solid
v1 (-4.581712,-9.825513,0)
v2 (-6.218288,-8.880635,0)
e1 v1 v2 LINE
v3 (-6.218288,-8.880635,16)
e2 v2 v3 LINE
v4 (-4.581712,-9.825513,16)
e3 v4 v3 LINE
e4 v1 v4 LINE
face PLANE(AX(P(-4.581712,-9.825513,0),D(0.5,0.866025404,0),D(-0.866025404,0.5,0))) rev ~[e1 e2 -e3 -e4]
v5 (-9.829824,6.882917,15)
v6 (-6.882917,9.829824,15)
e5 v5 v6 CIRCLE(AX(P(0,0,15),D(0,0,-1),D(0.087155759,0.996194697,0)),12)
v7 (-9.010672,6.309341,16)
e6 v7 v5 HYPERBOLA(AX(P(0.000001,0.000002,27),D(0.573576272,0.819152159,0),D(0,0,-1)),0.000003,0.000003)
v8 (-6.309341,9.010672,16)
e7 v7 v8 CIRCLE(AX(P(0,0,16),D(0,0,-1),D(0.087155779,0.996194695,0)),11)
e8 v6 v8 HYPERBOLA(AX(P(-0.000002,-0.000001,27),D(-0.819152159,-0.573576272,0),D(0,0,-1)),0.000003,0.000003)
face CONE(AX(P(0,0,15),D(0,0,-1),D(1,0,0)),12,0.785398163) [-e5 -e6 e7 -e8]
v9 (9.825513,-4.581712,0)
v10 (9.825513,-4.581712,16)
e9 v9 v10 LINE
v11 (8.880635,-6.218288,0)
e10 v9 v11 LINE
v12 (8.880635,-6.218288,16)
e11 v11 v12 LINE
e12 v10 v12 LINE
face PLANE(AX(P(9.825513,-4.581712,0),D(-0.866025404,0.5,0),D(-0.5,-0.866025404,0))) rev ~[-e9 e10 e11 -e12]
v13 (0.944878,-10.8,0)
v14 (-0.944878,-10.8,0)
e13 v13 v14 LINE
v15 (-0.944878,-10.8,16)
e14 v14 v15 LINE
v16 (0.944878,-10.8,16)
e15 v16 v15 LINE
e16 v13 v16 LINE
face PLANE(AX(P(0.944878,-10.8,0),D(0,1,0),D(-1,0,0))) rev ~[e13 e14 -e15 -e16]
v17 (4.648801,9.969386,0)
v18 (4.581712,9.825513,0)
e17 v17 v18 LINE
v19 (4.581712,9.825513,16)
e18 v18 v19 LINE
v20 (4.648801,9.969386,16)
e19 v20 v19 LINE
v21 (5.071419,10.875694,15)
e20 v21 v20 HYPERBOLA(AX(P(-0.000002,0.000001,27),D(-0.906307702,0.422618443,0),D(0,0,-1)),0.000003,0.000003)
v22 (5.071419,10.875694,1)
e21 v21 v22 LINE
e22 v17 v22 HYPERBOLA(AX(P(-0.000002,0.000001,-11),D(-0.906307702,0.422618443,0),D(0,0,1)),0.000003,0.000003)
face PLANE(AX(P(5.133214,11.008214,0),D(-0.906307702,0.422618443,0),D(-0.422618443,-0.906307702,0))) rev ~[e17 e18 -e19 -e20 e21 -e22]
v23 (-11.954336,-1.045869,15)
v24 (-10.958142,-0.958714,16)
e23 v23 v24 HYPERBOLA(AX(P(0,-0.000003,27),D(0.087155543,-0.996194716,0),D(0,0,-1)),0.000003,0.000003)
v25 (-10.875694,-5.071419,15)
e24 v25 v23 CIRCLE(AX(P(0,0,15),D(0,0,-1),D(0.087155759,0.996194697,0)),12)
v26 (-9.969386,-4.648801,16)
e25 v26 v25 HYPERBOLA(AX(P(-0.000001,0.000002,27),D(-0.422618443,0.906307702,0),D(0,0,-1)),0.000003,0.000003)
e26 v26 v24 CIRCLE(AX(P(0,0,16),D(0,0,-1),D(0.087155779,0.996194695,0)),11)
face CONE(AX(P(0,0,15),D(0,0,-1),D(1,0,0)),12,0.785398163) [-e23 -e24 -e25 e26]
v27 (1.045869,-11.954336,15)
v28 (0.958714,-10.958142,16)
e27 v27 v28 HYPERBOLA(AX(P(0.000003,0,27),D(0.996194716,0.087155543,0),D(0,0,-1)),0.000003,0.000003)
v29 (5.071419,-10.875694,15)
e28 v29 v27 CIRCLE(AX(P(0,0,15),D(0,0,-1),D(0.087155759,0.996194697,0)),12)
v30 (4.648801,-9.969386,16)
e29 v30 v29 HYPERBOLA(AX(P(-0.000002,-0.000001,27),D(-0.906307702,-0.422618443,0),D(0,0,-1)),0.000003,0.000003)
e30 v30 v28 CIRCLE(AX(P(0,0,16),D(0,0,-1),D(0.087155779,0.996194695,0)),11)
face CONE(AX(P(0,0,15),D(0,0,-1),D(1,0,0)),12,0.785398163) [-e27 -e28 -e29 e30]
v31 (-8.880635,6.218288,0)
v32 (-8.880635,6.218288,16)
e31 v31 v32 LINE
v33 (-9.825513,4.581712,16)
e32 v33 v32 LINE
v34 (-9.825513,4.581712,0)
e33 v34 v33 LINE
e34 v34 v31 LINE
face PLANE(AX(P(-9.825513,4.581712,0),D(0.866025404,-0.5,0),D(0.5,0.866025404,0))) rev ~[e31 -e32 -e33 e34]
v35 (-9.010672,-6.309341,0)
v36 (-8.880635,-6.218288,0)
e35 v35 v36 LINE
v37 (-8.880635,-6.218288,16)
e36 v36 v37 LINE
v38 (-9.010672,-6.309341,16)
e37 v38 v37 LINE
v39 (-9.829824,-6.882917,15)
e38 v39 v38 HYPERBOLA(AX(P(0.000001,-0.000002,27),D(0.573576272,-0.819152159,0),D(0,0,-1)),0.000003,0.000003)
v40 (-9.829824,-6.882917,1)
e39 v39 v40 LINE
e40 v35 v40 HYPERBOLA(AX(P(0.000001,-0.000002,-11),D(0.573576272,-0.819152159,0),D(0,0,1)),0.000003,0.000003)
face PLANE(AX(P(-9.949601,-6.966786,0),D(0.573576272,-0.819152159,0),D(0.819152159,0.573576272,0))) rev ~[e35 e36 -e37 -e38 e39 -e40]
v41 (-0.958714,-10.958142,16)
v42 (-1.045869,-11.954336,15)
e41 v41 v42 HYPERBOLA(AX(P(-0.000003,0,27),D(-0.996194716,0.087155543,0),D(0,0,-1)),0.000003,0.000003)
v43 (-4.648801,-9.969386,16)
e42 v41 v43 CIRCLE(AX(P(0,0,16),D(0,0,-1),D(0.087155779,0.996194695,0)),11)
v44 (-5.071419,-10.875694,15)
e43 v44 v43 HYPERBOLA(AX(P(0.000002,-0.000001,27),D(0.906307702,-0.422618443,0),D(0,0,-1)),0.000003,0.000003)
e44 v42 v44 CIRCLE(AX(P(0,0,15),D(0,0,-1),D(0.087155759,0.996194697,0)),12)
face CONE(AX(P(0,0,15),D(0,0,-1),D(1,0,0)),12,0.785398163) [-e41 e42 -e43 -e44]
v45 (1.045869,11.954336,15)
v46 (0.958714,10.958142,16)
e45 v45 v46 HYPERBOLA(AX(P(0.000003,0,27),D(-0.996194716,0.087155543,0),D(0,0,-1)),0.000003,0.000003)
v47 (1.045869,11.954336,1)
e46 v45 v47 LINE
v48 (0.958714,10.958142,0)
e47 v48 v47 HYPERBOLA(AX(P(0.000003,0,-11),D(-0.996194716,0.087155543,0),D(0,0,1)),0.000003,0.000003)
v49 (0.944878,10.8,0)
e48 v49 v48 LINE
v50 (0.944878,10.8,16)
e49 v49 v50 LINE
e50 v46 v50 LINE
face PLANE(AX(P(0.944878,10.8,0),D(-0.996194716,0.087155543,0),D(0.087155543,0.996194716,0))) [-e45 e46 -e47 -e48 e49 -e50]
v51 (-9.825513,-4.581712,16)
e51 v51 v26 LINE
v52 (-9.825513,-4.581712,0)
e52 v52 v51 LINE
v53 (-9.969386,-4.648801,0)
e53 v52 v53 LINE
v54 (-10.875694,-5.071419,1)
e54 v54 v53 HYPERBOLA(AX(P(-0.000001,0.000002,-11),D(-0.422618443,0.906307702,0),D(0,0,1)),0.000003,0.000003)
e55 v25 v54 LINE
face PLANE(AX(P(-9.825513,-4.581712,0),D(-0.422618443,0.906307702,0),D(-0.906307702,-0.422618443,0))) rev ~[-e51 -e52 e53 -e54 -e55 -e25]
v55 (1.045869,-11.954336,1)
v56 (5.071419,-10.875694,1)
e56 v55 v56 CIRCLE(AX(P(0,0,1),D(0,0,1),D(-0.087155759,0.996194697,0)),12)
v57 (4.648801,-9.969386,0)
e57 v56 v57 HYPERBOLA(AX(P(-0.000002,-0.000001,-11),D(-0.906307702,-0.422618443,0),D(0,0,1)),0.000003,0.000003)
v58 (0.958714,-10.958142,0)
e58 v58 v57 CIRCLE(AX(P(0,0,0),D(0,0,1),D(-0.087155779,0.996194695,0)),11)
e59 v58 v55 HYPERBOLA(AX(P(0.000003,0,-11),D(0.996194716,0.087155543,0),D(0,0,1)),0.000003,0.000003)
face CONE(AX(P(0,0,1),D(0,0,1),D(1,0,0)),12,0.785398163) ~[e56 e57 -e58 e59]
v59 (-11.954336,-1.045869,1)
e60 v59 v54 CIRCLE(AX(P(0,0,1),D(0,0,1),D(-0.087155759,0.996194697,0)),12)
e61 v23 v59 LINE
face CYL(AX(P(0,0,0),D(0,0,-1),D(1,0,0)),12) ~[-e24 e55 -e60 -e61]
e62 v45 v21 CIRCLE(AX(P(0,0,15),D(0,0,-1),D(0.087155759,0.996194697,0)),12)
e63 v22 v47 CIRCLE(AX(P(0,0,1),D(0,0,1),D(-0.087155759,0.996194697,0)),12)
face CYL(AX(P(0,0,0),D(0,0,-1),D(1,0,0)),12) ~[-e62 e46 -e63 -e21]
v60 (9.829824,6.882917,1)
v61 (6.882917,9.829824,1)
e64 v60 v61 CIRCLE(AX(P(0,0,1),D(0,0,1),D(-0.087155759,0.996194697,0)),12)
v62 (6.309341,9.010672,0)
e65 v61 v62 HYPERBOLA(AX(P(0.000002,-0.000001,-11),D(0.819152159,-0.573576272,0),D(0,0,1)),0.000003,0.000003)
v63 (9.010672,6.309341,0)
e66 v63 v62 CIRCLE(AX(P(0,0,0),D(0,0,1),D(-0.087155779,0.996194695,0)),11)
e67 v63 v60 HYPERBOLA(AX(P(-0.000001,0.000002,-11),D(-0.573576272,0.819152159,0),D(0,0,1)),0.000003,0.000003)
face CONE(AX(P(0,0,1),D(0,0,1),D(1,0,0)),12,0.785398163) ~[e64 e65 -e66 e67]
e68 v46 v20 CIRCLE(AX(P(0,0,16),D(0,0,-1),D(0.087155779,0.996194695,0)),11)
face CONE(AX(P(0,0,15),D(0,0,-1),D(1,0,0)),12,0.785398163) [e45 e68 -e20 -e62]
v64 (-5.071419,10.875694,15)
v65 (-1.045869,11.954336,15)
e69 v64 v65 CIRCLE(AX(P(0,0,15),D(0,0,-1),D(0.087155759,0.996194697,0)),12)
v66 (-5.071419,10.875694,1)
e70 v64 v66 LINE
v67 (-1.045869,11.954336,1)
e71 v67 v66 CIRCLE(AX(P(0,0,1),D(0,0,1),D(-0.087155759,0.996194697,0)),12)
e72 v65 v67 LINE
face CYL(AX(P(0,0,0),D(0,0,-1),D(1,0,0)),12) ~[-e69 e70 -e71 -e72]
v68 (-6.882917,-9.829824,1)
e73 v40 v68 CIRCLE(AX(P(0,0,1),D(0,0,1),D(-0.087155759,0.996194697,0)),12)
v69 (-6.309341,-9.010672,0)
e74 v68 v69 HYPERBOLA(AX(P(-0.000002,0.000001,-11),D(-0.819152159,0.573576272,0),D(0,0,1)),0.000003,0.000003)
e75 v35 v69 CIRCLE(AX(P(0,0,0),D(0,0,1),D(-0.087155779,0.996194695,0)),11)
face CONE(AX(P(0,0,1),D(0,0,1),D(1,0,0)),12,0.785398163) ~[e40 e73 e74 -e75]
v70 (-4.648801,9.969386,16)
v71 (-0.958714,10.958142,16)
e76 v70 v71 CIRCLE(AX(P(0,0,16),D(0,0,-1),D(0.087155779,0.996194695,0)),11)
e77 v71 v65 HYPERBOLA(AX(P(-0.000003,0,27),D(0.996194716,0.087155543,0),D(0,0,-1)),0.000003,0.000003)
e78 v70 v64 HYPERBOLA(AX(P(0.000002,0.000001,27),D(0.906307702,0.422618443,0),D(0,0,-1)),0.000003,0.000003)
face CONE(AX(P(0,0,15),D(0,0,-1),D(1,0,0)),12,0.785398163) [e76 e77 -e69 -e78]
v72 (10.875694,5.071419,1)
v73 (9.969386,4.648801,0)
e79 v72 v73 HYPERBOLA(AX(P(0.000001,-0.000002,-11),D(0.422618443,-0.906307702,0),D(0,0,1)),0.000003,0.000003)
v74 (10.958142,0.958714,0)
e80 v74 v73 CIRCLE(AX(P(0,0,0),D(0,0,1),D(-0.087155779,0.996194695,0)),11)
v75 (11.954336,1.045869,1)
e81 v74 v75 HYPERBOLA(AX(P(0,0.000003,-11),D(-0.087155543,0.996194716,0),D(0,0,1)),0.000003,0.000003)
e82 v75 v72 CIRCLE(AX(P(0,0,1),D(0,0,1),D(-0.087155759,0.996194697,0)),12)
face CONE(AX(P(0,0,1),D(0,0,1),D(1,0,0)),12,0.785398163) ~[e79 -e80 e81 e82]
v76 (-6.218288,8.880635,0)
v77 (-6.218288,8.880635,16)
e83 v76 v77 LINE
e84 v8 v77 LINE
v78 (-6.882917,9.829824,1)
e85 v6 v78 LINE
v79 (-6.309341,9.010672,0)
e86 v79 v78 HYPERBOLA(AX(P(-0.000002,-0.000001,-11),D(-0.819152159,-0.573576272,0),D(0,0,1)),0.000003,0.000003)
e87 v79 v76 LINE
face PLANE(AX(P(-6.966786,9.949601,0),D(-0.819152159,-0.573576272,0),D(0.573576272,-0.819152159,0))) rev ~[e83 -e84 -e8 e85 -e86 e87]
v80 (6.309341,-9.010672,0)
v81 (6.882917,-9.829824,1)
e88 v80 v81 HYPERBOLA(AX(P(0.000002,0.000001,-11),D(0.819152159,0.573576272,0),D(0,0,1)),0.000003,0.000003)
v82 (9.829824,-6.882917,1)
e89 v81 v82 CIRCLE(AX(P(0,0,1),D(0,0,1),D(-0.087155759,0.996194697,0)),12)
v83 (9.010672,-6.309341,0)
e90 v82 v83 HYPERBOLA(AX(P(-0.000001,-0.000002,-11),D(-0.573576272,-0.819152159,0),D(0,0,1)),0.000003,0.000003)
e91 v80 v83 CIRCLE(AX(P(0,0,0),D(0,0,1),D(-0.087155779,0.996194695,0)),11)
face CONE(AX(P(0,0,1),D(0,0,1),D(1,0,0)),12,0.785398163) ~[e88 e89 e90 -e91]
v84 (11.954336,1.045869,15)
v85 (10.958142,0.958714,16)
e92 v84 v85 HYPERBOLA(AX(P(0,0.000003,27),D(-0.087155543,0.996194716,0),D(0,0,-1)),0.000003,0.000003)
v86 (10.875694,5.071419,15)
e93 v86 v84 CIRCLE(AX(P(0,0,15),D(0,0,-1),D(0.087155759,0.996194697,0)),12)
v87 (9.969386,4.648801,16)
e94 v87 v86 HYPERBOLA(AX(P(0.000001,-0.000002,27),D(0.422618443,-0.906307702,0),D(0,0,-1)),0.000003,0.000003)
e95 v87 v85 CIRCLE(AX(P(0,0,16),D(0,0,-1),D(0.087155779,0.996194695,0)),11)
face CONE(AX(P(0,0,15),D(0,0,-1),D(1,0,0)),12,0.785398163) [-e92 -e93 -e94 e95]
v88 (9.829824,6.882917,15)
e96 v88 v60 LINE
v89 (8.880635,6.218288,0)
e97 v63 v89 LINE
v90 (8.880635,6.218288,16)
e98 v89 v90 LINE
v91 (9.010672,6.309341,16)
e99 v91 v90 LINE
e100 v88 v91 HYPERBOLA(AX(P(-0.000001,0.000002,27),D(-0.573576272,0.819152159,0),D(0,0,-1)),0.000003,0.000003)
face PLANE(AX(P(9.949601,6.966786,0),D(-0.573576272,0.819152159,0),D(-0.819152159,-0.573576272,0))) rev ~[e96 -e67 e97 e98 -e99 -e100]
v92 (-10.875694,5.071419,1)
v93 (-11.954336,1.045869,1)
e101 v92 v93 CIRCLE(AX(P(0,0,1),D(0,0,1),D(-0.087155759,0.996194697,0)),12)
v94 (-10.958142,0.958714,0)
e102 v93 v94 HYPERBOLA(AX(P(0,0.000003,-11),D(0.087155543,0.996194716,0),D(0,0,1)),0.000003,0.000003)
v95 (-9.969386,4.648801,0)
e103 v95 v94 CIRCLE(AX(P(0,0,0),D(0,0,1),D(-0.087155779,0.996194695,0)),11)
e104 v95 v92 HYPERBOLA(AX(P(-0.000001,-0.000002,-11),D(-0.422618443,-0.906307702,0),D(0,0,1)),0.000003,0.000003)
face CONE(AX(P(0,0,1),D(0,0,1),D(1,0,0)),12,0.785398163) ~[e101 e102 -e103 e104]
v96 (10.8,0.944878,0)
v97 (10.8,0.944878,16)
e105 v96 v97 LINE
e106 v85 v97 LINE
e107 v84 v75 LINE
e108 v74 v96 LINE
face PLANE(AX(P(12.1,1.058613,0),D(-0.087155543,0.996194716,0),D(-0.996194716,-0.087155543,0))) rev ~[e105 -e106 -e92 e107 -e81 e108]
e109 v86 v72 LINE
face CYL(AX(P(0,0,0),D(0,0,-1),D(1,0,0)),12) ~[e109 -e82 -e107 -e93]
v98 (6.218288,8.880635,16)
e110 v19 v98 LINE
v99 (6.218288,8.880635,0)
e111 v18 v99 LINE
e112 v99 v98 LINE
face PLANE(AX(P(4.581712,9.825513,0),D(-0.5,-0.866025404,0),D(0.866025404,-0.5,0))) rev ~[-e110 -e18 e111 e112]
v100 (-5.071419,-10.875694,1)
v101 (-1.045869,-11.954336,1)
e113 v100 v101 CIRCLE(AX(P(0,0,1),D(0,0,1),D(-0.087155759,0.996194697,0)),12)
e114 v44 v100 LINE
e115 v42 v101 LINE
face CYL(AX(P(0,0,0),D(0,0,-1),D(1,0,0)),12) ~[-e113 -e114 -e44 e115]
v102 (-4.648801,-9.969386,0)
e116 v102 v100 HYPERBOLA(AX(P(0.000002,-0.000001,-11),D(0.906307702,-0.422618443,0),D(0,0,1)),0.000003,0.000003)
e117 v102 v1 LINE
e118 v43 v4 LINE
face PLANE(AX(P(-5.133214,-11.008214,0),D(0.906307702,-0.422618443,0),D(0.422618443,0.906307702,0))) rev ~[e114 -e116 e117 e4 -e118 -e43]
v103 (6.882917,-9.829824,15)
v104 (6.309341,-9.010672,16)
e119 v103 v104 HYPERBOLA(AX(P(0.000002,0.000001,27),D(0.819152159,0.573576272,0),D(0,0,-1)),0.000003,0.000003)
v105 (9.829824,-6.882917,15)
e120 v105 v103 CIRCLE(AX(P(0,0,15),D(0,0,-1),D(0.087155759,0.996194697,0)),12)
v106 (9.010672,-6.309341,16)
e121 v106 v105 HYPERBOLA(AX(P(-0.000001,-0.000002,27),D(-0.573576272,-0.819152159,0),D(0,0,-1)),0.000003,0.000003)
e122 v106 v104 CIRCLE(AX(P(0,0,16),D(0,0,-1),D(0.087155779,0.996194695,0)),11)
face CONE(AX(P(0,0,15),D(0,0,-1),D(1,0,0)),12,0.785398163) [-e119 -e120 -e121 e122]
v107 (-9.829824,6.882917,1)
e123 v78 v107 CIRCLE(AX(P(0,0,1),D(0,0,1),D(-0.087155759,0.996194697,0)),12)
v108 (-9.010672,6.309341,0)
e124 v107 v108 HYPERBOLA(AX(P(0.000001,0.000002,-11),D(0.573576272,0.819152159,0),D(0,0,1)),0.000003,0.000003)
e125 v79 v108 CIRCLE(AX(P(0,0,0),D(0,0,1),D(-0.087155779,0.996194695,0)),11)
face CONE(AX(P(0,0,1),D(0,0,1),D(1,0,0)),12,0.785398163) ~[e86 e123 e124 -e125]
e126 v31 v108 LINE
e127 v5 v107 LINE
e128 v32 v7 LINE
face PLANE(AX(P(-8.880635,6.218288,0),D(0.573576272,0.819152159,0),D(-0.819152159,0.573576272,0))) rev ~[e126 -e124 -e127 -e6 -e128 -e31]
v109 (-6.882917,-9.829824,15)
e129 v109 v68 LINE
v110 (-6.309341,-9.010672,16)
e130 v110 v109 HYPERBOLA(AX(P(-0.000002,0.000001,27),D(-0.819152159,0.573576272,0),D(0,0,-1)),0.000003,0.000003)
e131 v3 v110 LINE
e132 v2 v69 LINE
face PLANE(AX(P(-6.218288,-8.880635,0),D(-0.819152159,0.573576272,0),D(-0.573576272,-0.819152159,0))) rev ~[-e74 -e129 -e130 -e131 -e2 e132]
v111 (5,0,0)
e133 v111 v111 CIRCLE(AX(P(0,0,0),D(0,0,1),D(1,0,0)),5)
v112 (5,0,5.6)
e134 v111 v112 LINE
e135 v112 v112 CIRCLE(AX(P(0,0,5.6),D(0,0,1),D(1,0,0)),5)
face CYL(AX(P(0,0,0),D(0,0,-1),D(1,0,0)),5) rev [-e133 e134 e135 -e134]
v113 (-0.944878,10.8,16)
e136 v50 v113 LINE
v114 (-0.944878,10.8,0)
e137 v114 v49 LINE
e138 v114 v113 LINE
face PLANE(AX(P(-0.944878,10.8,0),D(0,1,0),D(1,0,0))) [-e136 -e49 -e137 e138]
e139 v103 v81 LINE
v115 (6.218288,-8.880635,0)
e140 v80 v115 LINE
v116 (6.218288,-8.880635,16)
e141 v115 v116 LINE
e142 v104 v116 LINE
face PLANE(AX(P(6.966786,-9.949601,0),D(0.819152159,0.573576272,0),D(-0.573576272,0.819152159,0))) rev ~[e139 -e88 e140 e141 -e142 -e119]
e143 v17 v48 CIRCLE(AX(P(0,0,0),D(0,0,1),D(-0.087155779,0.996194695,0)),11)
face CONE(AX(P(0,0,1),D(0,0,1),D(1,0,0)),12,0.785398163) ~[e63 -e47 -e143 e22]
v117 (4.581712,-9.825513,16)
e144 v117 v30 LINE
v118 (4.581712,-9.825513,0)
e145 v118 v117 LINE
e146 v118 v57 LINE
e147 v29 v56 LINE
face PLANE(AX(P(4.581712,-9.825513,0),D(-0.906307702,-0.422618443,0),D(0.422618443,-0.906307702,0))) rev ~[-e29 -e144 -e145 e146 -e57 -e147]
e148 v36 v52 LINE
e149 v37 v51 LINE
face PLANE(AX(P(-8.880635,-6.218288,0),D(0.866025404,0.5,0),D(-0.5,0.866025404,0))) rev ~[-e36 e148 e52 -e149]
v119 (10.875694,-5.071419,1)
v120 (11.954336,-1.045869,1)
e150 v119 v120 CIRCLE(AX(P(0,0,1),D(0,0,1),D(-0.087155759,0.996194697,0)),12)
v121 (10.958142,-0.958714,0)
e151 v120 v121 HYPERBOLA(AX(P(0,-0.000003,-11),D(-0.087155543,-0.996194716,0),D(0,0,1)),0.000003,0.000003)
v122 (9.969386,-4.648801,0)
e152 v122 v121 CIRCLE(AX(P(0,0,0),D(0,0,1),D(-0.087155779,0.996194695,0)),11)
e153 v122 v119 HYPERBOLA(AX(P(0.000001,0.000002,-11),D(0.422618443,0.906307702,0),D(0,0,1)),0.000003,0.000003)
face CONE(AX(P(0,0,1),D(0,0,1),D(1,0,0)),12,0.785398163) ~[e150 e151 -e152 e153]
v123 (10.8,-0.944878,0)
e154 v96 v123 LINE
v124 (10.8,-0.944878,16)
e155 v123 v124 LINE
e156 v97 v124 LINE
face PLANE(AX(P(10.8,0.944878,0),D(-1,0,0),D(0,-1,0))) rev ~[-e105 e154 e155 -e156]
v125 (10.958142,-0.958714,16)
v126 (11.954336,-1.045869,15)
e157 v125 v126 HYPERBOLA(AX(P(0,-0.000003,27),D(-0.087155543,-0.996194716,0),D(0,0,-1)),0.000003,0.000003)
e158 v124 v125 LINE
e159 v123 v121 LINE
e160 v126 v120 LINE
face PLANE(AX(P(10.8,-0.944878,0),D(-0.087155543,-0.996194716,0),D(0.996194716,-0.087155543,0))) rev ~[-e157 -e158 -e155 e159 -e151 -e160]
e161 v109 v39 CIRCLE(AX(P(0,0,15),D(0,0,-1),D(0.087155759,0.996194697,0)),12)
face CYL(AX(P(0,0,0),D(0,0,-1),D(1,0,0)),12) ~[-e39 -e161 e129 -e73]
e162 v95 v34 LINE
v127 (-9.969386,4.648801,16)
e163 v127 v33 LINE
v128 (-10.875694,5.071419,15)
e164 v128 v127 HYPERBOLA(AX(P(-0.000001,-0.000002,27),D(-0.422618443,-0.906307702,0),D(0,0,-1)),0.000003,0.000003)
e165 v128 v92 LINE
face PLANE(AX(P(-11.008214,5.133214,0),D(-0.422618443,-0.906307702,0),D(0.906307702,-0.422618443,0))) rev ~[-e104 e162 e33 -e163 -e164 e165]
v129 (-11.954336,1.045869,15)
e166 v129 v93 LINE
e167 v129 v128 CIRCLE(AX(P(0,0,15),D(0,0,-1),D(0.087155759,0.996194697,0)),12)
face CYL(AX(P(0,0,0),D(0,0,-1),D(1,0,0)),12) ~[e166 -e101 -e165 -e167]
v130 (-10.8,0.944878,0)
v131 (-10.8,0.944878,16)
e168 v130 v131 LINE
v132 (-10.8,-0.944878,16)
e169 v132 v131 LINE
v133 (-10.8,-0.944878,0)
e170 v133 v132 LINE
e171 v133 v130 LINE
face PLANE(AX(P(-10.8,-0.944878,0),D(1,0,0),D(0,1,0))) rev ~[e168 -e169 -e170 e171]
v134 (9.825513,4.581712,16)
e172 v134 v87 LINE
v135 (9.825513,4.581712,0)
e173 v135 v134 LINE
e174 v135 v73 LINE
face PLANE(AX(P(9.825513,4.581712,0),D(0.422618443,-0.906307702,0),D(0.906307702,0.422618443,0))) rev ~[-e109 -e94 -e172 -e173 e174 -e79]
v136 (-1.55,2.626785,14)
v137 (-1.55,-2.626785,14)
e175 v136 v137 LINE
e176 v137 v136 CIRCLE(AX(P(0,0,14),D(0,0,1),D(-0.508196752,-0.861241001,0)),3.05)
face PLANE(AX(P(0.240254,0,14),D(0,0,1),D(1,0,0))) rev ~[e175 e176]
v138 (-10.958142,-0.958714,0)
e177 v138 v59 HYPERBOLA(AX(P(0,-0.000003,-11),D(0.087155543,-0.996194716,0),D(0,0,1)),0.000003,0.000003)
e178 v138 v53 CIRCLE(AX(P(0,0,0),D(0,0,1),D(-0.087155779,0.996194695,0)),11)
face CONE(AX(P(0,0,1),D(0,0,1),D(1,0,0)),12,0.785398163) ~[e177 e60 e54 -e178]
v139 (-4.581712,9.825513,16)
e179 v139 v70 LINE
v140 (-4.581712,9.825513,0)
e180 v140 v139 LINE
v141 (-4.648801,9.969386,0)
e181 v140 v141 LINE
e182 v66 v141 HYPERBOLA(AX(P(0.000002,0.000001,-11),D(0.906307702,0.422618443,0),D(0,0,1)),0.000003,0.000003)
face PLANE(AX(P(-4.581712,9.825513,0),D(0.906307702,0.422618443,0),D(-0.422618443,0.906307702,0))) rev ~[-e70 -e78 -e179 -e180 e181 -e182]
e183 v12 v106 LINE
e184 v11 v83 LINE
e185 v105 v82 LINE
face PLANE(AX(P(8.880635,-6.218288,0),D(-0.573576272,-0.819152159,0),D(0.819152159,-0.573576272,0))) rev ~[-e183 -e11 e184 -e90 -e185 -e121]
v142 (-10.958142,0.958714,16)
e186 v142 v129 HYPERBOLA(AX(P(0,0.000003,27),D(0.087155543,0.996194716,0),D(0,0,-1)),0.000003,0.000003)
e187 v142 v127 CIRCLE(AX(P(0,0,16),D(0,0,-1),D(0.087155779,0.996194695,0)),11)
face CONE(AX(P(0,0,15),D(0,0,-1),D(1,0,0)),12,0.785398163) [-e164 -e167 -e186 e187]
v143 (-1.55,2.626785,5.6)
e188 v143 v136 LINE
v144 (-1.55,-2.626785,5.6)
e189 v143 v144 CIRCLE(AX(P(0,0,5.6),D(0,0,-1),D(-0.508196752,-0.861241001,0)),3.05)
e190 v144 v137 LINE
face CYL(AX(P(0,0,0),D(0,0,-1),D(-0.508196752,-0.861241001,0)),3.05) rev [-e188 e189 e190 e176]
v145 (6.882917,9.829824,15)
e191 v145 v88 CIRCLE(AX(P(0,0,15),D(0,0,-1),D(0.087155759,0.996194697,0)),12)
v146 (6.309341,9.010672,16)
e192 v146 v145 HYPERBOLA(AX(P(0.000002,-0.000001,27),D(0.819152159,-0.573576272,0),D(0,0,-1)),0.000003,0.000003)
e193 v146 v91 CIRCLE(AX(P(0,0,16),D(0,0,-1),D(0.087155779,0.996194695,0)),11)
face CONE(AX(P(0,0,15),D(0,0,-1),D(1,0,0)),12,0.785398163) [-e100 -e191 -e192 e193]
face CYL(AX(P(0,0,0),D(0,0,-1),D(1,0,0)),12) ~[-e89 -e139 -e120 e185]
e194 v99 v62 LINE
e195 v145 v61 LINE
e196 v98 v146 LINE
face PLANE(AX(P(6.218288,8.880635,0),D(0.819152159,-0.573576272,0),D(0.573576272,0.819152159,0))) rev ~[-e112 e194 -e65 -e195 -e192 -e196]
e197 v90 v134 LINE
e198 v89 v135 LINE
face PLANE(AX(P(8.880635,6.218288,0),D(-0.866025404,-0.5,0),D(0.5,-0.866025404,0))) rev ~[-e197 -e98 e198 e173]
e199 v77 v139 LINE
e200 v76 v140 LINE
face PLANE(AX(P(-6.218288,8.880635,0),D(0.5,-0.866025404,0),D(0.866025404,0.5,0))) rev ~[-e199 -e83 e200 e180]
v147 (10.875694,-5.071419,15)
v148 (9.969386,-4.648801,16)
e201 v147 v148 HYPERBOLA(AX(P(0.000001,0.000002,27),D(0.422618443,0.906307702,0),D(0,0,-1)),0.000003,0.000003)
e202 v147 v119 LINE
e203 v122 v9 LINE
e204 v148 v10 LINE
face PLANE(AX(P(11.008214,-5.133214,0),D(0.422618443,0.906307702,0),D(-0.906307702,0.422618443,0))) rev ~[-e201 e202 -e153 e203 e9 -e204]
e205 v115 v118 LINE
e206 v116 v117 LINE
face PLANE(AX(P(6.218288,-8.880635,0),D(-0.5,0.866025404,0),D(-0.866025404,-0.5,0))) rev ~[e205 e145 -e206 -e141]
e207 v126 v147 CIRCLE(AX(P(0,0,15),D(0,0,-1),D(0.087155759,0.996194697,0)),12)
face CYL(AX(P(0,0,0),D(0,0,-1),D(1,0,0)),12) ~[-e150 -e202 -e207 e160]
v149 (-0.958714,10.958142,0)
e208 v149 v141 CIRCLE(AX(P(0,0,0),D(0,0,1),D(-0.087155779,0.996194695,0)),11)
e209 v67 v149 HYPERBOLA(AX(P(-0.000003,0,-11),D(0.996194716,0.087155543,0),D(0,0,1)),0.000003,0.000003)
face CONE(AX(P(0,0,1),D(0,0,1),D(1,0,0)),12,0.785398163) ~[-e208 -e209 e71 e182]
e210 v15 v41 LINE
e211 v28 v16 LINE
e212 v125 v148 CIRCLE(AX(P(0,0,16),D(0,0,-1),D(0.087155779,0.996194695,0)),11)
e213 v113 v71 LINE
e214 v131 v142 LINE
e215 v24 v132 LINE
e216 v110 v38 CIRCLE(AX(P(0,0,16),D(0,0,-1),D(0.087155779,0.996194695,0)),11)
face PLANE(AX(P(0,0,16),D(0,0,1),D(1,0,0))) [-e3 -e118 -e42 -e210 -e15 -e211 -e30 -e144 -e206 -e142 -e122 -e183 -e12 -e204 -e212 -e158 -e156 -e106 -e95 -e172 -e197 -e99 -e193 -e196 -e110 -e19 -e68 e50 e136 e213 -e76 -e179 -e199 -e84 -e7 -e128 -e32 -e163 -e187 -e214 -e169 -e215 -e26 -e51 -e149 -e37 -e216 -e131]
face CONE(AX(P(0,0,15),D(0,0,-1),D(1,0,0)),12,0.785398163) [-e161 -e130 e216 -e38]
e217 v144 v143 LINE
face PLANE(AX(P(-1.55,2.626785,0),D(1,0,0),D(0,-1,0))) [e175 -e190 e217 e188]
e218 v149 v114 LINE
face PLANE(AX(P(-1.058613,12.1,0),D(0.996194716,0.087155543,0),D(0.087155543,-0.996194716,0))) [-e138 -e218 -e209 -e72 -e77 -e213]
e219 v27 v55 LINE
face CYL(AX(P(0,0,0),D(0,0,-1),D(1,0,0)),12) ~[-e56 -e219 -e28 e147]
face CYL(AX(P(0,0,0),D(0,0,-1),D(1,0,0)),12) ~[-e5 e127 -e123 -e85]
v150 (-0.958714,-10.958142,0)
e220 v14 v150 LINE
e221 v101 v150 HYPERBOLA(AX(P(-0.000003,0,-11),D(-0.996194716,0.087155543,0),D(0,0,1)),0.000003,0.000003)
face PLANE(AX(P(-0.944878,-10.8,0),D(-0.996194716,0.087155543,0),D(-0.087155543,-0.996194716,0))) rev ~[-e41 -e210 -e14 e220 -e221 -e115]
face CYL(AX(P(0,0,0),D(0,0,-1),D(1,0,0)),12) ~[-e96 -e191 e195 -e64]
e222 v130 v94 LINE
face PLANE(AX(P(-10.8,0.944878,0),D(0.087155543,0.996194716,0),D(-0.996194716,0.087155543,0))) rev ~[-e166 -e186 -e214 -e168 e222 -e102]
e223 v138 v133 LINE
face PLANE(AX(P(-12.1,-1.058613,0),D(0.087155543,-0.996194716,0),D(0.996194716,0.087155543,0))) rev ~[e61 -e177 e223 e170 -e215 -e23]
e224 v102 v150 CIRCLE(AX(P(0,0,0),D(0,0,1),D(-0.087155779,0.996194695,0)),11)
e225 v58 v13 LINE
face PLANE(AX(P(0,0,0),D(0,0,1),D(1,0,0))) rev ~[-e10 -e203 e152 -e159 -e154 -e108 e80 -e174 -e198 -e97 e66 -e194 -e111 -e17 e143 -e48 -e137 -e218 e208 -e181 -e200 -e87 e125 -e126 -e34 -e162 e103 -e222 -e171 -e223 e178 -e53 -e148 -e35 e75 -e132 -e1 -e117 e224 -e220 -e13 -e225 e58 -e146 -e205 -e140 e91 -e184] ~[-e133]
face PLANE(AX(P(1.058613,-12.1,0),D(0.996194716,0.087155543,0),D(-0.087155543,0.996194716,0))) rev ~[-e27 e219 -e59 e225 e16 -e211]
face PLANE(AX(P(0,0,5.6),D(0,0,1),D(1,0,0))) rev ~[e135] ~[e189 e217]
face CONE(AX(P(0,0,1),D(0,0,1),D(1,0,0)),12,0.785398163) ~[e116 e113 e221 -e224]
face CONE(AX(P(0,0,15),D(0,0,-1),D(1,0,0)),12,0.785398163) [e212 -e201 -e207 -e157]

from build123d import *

# Parameters (mm, degrees)
SKETCH002_R        = 12
PAD002_DEPTH       = 16
CHAMFER_SIZE       = 1
POCKET_DEPTH       = 75.047652
POCKET_DEPTH_BACK  = 91.047652
POLARPATTERN_COUNT = 12
SKETCH_R           = 5
POCKET001_DEPTH    = 5.6
POCKET002_DEPTH    = 14


with BuildPart() as part:
    # Sketch002 → Pad002 (new body)
    with BuildSketch(Plane.XY):
        Circle(SKETCH002_R)
    extrude(amount=PAD002_DEPTH)

    # Chamfer
    chamfer_edges = [part.edges().sort_by_distance(p)[0] for p in [
        (-12, 0, 16),
        (-12, 0, 0),
    ]]
    chamfer(chamfer_edges, length=CHAMFER_SIZE)

    # Sketch003 → Pocket (cut, two sides)
    with BuildSketch(Plane.XY) as pocket_sk:
        Polygon((-1.058613, 12.1), (-0.944878, 10.8), (0.944878, 10.8), (1.058613, 12.1), align=None)
    pocket = extrude(amount=-POCKET_DEPTH, mode=Mode.SUBTRACT) + extrude(pocket_sk.sketch, amount=POCKET_DEPTH_BACK, mode=Mode.SUBTRACT)

    # PolarPattern: Pocket ×12 about axis
    polarpattern_axis = Axis((0, 0, 0), (0, 0, 1))
    for i in range(1, POLARPATTERN_COUNT):
        add(pocket.rotate(polarpattern_axis, i * 360 / POLARPATTERN_COUNT), mode=Mode.SUBTRACT)

    # Sketch → Pocket001 (cut)
    with BuildSketch(Plane.XY):
        Circle(SKETCH_R)
    extrude(amount=POCKET001_DEPTH, mode=Mode.SUBTRACT)

    # Sketch004 → Pocket002 (cut)
    with BuildSketch(Plane.XY):
        with BuildLine():
            ThreePointArc((-1.55, -2.626785), (3.05, 0), (-1.55, 2.626785))
            Line((-1.55, 2.626785), (-1.55, -2.626785))
        make_face()
    extrude(amount=POCKET002_DEPTH, mode=Mode.SUBTRACT)


solid = part.part
